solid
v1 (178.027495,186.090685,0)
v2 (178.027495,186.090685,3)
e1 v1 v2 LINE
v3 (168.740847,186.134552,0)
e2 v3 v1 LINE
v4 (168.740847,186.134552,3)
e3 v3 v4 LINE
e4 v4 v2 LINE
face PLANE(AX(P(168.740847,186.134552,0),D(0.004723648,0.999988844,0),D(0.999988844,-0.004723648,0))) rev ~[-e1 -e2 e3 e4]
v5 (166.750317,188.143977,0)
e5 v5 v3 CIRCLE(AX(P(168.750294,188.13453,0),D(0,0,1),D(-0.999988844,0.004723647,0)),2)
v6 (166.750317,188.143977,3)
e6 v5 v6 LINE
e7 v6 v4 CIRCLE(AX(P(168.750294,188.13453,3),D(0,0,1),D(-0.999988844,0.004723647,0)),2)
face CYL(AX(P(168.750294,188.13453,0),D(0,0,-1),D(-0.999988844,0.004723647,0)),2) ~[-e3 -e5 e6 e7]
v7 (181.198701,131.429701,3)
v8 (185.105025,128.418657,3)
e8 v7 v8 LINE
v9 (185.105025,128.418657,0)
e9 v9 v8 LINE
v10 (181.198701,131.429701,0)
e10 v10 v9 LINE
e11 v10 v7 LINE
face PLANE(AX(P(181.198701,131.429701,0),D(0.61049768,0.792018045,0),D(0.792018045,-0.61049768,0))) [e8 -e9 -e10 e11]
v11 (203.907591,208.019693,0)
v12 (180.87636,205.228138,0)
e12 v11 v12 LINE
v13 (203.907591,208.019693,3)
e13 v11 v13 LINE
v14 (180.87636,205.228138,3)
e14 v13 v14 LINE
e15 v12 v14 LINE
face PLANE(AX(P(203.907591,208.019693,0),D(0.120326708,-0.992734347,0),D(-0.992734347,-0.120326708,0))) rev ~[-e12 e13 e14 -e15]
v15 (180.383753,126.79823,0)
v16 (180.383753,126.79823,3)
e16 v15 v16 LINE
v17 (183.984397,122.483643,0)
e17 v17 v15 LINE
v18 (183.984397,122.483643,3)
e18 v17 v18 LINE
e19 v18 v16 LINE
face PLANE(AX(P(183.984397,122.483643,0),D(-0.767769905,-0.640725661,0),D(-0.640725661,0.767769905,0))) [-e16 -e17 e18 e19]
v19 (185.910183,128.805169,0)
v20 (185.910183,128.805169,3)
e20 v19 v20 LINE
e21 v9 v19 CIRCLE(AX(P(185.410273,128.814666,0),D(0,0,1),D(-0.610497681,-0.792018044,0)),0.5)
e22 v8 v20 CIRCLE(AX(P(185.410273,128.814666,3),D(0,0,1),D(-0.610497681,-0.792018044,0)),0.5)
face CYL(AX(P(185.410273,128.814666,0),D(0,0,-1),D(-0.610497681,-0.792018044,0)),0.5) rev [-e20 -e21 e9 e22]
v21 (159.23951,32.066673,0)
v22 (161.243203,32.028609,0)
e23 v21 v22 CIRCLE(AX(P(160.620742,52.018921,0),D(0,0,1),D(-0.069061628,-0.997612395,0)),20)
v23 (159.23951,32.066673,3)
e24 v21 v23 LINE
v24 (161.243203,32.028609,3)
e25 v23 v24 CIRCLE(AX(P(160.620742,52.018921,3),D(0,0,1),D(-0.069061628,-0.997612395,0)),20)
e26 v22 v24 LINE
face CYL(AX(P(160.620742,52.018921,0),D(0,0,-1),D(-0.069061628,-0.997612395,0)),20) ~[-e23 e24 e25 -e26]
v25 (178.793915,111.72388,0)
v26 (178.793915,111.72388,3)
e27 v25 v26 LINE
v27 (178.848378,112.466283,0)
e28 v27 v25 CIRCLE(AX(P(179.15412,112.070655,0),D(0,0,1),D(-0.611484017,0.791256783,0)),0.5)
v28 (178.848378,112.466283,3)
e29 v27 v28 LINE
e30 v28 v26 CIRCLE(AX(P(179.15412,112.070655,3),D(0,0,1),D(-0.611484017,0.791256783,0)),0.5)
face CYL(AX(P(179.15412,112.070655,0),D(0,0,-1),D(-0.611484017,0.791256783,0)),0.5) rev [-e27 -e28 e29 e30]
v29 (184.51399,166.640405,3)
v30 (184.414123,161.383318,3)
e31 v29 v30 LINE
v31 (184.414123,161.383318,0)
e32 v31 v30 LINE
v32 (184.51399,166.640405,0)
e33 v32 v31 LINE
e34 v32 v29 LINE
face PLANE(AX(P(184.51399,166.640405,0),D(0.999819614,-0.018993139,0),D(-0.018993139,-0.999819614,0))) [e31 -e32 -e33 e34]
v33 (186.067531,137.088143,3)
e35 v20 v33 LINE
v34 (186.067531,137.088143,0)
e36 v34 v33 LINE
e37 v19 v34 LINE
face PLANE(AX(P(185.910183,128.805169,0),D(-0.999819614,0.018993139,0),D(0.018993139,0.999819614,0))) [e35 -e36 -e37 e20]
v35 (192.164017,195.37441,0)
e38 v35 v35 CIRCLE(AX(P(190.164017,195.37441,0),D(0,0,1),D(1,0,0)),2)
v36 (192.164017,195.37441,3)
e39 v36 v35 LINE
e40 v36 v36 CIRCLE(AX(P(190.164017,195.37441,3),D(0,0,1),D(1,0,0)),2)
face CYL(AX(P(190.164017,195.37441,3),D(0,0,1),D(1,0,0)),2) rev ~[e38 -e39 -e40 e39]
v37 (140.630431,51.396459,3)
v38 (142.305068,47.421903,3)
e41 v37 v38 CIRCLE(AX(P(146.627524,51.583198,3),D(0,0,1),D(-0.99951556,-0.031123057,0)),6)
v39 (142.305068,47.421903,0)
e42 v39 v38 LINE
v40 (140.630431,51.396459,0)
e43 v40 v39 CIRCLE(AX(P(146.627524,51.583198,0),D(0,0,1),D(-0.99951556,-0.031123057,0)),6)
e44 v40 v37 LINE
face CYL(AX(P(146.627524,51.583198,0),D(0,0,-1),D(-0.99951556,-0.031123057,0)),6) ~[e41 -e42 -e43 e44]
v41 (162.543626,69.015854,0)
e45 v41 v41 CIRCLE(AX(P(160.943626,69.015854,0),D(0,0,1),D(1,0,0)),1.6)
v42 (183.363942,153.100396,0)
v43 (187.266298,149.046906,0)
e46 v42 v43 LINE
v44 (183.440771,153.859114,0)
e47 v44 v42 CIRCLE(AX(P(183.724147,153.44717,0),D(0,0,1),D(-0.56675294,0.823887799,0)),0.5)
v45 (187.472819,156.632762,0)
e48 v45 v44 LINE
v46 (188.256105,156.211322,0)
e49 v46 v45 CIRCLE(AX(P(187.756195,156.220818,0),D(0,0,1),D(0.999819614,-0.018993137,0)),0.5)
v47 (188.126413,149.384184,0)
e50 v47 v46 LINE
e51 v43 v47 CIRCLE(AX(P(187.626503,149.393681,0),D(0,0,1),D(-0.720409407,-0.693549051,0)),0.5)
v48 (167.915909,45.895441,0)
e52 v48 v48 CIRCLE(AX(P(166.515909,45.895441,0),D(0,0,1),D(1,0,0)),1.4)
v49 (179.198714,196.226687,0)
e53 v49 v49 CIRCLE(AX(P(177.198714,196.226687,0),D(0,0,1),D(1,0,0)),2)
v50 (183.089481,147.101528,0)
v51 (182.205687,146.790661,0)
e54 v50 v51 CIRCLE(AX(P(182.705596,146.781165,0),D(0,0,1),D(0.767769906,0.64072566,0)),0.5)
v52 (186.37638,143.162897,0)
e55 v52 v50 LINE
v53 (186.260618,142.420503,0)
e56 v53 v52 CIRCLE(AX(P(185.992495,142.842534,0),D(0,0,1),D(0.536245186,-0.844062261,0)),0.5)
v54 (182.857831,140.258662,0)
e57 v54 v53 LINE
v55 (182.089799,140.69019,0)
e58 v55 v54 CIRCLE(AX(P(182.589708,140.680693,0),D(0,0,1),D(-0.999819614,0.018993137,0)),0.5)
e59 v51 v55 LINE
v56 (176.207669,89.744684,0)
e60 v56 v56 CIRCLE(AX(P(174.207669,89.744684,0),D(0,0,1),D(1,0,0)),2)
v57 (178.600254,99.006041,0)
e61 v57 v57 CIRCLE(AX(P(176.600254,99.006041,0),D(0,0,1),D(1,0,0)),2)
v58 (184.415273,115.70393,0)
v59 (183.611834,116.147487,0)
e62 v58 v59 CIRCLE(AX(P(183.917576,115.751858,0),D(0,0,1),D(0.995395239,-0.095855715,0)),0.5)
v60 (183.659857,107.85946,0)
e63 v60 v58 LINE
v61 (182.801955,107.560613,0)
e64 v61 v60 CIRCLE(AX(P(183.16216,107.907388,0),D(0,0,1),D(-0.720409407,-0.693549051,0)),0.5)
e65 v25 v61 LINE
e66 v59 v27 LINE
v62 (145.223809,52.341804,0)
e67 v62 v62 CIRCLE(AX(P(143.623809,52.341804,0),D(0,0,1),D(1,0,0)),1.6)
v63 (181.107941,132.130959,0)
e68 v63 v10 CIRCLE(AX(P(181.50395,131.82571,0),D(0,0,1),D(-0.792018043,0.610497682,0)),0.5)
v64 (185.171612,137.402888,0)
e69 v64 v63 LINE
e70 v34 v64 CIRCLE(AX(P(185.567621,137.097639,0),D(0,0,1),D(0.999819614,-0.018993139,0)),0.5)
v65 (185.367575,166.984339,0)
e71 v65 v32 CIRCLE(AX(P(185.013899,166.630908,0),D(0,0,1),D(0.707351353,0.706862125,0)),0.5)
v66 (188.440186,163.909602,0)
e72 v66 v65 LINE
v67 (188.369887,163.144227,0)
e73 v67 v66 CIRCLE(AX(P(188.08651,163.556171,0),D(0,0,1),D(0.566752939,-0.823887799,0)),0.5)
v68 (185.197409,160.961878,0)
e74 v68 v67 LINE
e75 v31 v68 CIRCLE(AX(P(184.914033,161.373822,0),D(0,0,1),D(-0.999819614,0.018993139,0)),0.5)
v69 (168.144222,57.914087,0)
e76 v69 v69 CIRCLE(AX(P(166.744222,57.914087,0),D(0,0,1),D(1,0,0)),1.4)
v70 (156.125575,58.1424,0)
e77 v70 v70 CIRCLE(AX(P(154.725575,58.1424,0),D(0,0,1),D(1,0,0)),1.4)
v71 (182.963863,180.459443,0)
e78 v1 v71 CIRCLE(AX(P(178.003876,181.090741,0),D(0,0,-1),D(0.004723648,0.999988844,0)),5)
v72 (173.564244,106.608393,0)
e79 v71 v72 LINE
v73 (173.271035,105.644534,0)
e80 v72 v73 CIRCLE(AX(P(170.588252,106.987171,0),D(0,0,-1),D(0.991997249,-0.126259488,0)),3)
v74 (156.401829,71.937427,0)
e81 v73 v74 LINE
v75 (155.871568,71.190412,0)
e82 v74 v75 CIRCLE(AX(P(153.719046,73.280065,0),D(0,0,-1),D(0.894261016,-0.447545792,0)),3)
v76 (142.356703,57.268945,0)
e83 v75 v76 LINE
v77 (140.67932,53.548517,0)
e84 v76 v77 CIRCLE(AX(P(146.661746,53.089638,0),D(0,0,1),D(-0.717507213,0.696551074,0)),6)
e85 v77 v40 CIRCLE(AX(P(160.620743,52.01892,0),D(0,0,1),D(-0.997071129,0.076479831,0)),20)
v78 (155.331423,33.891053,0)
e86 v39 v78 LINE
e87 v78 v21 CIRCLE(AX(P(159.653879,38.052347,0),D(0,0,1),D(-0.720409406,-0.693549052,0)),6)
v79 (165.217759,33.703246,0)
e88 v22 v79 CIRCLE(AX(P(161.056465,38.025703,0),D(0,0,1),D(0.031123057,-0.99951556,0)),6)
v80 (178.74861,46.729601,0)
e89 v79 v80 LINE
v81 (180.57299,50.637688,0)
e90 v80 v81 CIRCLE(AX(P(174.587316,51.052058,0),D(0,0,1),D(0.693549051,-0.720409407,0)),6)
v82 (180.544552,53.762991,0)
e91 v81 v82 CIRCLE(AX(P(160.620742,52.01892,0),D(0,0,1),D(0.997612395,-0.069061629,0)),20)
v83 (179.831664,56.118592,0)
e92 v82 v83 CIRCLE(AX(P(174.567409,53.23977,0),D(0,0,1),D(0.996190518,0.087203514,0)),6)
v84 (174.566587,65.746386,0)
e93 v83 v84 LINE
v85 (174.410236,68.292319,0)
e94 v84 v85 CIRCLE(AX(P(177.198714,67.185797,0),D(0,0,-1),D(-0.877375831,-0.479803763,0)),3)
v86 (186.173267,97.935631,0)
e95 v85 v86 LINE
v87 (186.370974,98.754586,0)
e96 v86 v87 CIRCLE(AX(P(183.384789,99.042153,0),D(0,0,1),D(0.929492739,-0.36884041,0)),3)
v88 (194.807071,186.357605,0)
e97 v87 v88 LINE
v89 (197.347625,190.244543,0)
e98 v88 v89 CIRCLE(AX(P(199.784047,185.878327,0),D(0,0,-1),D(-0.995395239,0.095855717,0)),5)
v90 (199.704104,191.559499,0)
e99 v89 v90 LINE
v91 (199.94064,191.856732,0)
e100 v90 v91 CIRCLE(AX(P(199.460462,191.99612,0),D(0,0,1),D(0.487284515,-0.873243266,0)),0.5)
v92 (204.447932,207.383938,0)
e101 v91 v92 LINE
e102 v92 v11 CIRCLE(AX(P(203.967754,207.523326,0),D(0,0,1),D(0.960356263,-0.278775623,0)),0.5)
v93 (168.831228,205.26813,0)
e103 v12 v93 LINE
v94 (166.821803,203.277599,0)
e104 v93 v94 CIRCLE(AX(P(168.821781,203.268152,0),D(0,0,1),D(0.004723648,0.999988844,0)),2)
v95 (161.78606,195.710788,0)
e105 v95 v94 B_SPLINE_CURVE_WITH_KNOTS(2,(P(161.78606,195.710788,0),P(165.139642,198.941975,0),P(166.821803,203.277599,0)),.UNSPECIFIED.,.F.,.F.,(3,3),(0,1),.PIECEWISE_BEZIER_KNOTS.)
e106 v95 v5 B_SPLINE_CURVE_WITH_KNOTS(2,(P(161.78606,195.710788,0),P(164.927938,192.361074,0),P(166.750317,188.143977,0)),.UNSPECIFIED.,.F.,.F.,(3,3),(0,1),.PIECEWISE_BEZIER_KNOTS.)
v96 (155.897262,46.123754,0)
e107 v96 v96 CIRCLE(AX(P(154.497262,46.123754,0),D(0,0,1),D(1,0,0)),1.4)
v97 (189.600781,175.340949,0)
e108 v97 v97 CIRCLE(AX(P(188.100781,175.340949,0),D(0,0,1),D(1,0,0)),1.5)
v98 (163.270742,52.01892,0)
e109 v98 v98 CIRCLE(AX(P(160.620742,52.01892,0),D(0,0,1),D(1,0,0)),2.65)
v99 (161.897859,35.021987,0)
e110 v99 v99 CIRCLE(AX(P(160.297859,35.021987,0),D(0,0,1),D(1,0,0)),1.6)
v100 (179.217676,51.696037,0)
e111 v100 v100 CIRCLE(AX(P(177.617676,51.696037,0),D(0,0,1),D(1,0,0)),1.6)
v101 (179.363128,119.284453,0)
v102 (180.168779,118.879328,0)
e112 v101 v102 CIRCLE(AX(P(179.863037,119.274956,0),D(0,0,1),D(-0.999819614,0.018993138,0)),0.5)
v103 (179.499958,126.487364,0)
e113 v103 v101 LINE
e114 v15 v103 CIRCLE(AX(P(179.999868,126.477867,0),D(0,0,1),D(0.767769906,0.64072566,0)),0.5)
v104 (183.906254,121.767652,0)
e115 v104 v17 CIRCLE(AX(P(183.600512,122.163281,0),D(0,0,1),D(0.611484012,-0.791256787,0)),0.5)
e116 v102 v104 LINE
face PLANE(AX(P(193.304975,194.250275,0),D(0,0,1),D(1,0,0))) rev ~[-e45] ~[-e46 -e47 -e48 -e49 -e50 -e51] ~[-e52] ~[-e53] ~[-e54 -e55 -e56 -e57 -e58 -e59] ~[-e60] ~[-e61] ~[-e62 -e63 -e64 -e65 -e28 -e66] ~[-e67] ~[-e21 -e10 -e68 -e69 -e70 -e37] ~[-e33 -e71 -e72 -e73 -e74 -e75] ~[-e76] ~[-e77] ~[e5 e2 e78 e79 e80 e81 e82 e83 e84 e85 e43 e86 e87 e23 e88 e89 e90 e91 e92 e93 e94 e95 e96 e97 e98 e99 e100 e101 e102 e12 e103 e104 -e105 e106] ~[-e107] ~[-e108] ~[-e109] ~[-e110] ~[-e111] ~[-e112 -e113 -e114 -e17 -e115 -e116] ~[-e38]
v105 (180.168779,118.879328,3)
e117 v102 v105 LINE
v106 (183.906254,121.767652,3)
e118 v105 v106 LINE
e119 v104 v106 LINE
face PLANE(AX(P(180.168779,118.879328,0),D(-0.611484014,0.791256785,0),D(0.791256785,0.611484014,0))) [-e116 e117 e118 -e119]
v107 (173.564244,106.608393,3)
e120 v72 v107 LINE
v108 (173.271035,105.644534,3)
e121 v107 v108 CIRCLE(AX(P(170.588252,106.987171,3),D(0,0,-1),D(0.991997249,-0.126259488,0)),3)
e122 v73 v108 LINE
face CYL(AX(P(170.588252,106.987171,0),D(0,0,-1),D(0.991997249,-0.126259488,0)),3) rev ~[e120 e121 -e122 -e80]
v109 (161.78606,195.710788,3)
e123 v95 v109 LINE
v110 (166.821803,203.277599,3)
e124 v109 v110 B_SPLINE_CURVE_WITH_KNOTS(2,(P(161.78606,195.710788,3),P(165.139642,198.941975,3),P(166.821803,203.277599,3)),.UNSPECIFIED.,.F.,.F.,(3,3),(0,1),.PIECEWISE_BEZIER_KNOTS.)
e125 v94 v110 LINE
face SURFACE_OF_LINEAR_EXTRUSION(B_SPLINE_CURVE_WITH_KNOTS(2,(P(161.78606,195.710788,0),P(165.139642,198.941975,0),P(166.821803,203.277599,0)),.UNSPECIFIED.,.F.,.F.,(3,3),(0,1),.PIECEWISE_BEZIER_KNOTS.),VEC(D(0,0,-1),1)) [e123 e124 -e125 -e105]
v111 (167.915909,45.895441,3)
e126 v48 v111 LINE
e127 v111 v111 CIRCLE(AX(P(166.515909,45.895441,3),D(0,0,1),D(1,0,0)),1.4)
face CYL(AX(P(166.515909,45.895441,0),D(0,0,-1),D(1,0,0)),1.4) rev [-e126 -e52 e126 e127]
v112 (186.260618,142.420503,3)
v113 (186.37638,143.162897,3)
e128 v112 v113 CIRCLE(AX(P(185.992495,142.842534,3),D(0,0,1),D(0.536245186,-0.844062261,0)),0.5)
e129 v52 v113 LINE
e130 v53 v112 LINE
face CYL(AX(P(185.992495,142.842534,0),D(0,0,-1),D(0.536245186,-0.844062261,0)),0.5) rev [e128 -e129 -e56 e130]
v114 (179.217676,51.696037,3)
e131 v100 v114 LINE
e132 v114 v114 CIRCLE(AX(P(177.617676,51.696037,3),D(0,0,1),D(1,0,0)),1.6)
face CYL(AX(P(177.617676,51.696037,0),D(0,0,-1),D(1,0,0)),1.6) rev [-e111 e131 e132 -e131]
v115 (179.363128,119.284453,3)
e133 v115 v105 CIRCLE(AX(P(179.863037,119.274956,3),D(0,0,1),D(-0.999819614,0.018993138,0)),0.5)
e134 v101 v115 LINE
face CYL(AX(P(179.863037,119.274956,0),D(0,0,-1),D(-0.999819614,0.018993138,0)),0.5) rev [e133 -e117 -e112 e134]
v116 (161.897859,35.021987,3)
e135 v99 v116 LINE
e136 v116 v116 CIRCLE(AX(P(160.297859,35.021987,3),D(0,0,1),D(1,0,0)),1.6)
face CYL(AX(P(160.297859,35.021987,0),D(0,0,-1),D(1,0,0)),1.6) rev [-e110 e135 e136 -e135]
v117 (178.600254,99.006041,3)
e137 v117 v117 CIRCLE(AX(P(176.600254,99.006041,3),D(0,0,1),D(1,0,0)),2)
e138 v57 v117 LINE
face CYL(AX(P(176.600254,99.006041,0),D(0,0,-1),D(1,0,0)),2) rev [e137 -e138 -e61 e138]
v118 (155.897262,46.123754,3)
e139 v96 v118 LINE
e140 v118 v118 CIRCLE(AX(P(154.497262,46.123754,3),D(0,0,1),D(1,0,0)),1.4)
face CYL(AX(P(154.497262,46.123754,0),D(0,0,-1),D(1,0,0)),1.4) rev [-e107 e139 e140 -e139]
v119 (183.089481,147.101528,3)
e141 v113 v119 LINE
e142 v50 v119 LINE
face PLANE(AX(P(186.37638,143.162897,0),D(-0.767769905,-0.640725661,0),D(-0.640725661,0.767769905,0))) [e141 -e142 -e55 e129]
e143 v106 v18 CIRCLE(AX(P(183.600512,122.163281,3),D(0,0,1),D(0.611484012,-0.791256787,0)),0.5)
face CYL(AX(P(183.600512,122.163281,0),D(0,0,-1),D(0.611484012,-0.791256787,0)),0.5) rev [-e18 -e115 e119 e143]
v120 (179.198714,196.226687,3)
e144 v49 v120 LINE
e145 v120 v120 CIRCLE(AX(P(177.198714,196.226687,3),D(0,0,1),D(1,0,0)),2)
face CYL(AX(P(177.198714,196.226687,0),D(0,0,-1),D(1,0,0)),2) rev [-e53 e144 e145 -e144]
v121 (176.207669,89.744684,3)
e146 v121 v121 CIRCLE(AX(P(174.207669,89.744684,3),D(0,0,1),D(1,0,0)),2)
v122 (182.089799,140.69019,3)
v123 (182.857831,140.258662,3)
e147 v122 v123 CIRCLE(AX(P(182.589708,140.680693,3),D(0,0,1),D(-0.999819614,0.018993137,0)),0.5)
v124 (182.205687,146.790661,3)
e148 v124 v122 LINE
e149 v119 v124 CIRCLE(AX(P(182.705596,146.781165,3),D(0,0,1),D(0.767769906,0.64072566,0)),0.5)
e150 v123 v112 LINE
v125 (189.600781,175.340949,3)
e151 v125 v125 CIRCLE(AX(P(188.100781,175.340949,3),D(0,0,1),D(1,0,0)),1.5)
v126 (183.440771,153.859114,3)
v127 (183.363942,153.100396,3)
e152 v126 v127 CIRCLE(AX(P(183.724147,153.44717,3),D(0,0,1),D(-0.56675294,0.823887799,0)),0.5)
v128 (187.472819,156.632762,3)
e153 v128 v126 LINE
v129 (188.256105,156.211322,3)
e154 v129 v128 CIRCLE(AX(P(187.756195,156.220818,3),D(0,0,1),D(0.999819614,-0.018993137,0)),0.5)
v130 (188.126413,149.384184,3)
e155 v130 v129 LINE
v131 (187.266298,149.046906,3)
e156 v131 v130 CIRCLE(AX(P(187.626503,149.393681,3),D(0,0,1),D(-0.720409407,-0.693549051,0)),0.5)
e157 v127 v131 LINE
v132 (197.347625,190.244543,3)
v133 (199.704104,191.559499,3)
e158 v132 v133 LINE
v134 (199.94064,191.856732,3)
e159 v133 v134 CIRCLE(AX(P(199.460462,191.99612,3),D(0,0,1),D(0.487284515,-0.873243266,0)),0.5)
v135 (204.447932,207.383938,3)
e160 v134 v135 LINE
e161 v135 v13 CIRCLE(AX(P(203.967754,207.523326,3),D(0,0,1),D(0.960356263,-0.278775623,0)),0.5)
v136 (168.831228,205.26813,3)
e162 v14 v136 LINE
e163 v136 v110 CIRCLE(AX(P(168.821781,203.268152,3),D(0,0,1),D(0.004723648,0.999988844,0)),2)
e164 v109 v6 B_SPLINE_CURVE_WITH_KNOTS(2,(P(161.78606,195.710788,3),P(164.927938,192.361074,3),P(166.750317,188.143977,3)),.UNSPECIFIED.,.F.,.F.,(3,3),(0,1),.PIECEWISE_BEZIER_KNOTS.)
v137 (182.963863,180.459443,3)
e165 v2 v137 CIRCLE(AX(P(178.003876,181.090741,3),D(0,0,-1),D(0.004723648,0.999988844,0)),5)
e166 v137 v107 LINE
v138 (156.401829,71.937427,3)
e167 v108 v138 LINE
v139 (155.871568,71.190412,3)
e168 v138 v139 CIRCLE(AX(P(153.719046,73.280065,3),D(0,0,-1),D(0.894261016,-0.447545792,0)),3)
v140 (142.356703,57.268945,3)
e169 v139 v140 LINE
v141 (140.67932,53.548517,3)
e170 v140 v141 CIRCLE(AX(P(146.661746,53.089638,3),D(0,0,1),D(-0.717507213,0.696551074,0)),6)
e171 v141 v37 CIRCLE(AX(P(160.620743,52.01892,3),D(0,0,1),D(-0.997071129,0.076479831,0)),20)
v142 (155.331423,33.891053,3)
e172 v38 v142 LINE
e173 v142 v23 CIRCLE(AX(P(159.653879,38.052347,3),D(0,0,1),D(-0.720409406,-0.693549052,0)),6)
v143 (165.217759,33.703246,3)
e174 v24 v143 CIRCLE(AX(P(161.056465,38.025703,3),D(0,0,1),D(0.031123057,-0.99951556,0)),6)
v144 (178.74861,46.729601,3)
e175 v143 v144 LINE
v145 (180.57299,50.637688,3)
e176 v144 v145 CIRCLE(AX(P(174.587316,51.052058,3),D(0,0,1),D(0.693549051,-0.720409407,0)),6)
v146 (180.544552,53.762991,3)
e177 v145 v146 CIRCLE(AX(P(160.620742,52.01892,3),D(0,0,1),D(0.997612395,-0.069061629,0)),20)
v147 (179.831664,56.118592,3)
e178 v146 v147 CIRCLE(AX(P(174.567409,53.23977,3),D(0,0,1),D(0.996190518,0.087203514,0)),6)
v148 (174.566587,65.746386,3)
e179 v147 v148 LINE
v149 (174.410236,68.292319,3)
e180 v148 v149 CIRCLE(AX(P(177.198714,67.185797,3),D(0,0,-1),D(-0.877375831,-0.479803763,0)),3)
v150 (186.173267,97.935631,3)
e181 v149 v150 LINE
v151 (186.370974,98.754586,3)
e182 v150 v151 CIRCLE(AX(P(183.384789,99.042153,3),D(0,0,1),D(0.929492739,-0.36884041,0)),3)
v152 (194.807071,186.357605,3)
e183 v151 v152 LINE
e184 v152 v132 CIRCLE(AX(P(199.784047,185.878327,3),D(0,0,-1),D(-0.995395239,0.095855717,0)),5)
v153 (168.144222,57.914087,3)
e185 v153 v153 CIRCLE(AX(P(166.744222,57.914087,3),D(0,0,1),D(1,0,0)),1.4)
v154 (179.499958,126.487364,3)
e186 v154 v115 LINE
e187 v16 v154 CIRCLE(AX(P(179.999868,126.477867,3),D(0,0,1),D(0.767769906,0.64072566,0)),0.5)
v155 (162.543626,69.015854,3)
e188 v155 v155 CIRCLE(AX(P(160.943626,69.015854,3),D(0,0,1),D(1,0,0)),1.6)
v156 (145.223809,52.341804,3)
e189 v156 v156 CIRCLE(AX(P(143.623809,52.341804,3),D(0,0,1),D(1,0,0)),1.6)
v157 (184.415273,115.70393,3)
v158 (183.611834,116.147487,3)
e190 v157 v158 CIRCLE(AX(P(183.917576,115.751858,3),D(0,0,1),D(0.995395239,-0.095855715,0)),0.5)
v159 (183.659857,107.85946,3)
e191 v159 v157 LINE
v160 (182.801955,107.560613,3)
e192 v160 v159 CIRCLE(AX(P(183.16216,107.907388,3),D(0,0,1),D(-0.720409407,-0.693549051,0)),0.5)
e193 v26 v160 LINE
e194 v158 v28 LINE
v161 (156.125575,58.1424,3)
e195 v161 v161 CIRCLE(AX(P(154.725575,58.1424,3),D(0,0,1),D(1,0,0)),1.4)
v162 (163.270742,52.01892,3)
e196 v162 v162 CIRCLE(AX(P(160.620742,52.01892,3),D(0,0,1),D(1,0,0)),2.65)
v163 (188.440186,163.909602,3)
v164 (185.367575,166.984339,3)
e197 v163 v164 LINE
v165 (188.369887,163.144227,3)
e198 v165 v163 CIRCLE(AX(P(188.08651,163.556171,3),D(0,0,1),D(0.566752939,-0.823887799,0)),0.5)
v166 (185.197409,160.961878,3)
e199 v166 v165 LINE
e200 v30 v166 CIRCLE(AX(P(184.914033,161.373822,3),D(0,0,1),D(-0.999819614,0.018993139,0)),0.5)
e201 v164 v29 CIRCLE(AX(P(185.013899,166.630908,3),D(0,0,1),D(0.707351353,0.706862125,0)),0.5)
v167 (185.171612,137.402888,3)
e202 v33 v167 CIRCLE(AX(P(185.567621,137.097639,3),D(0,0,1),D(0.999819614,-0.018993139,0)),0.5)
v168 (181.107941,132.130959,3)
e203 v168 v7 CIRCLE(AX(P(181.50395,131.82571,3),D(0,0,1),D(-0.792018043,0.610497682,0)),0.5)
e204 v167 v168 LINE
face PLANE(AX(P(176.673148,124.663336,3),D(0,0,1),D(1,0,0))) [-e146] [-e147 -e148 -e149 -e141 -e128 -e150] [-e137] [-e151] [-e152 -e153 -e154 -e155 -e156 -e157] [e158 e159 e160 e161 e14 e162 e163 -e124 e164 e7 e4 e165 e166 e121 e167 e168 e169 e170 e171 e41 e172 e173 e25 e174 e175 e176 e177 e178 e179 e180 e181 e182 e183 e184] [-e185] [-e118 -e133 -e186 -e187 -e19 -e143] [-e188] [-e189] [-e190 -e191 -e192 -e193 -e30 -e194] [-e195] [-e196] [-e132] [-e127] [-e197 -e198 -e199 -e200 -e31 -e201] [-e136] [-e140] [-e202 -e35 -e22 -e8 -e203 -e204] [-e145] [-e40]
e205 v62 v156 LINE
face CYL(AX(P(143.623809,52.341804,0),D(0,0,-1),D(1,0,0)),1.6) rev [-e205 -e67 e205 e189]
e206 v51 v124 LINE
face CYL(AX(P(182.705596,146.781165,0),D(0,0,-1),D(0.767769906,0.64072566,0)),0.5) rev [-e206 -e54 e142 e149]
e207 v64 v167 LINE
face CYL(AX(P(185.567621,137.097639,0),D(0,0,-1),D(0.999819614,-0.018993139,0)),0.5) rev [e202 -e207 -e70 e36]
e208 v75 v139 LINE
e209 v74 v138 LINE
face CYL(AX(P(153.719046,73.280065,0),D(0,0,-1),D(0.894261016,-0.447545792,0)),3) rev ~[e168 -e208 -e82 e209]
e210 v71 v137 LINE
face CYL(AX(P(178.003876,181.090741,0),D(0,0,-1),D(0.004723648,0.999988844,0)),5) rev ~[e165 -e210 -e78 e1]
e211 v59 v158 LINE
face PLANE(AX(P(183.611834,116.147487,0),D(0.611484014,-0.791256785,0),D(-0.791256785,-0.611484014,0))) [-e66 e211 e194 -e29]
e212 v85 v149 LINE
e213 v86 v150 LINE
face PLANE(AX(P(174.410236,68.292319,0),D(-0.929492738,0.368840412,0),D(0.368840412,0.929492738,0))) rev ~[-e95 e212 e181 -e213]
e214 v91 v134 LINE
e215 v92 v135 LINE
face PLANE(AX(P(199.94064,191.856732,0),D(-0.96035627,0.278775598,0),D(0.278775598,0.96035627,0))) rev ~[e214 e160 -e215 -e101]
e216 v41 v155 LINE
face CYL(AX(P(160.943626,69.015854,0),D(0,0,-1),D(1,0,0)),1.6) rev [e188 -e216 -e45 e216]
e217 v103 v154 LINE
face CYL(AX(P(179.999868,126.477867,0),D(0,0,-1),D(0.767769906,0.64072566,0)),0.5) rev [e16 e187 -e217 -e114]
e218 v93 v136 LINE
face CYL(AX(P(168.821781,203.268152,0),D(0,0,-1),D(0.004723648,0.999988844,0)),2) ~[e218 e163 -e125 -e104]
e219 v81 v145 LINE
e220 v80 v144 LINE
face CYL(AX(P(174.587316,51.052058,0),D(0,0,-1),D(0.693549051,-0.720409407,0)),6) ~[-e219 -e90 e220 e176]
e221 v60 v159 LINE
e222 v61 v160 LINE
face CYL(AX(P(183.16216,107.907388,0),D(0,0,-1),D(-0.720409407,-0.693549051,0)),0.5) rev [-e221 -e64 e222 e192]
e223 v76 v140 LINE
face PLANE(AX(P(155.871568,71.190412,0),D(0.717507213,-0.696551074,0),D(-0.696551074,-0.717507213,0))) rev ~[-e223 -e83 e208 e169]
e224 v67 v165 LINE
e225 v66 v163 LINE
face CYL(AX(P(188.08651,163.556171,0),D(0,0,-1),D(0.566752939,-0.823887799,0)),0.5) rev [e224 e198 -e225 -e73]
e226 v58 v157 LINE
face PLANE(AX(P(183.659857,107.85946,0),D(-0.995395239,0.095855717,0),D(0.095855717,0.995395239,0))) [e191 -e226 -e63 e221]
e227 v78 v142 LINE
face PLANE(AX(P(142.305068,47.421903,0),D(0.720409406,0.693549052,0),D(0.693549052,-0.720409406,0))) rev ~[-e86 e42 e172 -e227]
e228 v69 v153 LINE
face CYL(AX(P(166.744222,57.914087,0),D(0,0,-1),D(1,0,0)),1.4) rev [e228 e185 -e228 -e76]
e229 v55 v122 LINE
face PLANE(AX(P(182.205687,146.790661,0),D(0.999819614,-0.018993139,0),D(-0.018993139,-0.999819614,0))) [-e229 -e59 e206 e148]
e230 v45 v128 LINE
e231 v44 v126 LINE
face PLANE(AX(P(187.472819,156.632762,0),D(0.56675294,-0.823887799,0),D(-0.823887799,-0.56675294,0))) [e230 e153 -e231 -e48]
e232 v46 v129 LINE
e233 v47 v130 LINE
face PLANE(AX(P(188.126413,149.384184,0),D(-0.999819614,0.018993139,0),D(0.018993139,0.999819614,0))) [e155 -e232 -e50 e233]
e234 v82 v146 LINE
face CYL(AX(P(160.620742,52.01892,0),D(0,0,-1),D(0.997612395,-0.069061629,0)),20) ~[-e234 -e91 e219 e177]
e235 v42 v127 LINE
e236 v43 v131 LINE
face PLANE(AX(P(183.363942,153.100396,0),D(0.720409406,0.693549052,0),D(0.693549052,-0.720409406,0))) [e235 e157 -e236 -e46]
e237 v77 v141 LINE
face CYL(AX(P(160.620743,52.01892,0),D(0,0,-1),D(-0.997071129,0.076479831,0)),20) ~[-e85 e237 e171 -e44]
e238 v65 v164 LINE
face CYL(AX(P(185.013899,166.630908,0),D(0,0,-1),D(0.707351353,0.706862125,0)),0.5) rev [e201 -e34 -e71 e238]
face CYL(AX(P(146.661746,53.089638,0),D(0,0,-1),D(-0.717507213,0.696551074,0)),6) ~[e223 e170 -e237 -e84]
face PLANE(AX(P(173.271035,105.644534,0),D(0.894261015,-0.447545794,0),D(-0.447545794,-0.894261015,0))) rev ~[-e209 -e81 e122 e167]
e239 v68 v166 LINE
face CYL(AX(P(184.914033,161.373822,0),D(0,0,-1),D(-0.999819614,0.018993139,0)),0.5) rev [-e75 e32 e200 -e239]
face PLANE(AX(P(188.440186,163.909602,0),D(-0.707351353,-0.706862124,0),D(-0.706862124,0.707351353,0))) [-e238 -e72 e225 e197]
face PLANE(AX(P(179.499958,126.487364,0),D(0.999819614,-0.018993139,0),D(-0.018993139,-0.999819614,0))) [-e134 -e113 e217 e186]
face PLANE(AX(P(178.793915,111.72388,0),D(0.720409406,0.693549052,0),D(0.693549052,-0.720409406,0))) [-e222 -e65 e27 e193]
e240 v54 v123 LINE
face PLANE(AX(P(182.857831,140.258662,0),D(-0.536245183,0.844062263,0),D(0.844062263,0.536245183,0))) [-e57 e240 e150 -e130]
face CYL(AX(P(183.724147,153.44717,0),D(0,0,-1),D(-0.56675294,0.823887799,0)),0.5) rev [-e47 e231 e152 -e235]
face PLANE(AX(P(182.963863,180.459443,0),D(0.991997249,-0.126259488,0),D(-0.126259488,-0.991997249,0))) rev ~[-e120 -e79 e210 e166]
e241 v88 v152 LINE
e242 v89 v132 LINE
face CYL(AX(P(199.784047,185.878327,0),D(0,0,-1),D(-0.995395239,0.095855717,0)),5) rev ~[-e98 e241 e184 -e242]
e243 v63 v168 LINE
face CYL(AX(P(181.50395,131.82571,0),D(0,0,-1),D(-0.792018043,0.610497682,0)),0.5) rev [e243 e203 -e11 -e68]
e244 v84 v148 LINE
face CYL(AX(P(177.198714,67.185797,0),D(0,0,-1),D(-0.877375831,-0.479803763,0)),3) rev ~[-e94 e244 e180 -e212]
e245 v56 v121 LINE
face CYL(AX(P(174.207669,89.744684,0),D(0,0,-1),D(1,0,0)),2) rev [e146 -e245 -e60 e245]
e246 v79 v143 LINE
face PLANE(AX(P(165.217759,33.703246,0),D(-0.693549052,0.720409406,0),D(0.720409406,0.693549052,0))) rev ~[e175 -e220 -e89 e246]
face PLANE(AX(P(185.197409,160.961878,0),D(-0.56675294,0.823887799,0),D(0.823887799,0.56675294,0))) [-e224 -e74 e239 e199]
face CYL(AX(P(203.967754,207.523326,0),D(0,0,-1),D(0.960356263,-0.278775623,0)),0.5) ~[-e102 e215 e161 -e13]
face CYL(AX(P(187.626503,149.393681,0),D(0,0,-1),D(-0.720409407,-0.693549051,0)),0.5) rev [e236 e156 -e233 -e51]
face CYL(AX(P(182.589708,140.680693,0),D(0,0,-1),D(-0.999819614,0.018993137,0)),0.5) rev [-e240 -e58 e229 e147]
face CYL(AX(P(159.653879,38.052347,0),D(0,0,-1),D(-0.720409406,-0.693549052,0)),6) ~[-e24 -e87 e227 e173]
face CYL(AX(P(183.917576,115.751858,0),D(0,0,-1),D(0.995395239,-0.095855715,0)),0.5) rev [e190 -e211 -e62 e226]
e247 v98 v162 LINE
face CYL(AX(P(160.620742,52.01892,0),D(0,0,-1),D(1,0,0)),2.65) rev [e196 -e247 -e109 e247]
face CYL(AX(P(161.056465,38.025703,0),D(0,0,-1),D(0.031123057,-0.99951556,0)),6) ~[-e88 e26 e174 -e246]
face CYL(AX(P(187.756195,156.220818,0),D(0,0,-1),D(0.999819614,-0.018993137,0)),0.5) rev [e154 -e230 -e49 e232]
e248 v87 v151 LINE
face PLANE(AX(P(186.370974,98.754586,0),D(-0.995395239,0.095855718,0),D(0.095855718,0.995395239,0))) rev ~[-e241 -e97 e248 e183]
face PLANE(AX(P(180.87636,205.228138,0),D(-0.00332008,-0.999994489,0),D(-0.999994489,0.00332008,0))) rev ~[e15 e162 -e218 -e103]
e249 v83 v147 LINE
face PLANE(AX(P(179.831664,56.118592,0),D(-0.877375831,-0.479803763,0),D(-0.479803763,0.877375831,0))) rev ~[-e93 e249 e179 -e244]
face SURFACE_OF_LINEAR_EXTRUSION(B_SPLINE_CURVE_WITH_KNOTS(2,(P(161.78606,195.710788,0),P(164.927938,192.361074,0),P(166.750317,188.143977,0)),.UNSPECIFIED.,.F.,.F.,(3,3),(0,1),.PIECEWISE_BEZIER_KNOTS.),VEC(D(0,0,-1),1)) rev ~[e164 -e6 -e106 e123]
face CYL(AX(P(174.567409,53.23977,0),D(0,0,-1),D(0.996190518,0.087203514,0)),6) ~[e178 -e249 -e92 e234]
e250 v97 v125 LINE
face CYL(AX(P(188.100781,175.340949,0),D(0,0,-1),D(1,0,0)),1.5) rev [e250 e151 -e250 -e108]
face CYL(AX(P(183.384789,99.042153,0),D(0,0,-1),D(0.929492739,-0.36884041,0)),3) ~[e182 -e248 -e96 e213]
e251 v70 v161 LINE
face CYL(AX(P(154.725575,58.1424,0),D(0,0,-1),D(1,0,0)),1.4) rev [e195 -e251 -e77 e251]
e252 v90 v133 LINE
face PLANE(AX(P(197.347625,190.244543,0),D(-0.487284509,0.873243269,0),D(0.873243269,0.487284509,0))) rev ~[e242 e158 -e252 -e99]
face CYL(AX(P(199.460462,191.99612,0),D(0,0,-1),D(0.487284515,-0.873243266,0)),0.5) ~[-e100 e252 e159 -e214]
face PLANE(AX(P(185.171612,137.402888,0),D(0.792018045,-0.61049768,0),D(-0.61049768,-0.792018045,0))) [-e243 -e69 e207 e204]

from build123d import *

# Parameters (mm, degrees)
SKETCH_1_R          = 1.6
SKETCH_1_R_2        = 2
SKETCH_1_R_3        = 1.5
SKETCH_1_R_4        = 1.4
SKETCH_1_R_5        = 2.65
EXTRUDE_1_DEPTH     = 3
EXTRUDE_START       = -3
SKETCH_2_R          = 2
EXTRUDE_2_DEPTH     = 3
SKETCH_3_R          = 2
CUT_EXTRUDE_1_DEPTH = 292.701502722


with BuildPart() as part:
    # 草图1 → 凸台-拉伸1 (new body)
    with BuildSketch(Plane.XY):
        with BuildLine():
            Line((180.876359785, 205.228138488), (168.831228405, 205.268129507))
            ThreePointArc((168.831228405, 205.268129507), (167.414263571, 204.689029851), (166.821803423, 203.277599114))
            add(Edge.make_bspline(
                [(161.786060078, 195.71078825), (165.139642387, 198.941974737), (166.821803423, 203.277599114)],
                knots=[0, 0, 0, 1, 1, 1], degree=2))
            add(Edge.make_bspline(
                [(161.786060078, 195.71078825), (164.92793776, 192.361073548), (166.750316725, 188.143977385)],
                knots=[0, 0, 0, 1, 1, 1], degree=2))
            ThreePointArc((166.750316725, 188.143977385), (167.329416381, 186.727012552), (168.740847117, 186.134552403))
            Line((168.740847117, 186.134552403), (178.027494719, 186.090685063))
            ThreePointArc((178.027494719, 186.090685063), (181.763769971, 184.38667788), (182.963862725, 180.459443405))
            Line((182.963862725, 180.459443405), (173.564244058, 106.60839258))
            ThreePointArc((173.564244058, 106.60839258), (173.458389771, 106.114066832), (173.271035356, 105.644533662))
            Line((173.271035356, 105.644533662), (156.40182897, 71.937427408))
            ThreePointArc((156.40182897, 71.937427408), (156.165380125, 71.54355997), (155.871567565, 71.190411567))
            Line((155.871567565, 71.190411567), (142.35670304, 57.268944585))
            ThreePointArc((142.35670304, 57.268944585), (141.191974376, 55.555727126), (140.679319548, 53.548517136))
            ThreePointArc((140.679319548, 53.548517136), (140.625900814, 52.473146463), (140.63043091, 51.396459358))
            ThreePointArc((140.63043091, 51.396459358), (141.098279223, 49.25350905), (142.305067834, 47.421903384))
            Line((142.305067834, 47.421903384), (155.331422881, 33.891052634))
            ThreePointArc((155.331422881, 33.891052634), (157.115873944, 32.615571364), (159.239509549, 32.066672572))
            ThreePointArc((159.239509549, 32.066672572), (160.240879339, 32.022528199), (161.243203239, 32.028609273))
            ThreePointArc((161.243203239, 32.028609273), (163.386153547, 32.496457586), (165.217759213, 33.703246197))
            Line((165.217759213, 33.703246197), (178.748609963, 46.729601244))
            ThreePointArc((178.748609963, 46.729601244), (180.024091234, 48.514052307), (180.572990025, 50.637687912))
            ThreePointArc((180.572990025, 50.637687912), (180.619914226, 52.200895683), (180.544552467, 53.762990758))
            ThreePointArc((180.544552467, 53.762990758), (180.310185029, 54.977736199), (179.831664348, 56.118592254))
            Line((179.831664348, 56.118592254), (174.566586824, 65.746386199))
            ThreePointArc((174.566586824, 65.746386199), (174.20435551, 67.001908028), (174.410236103, 68.292318726))
            Line((174.410236103, 68.292318726), (186.173266888, 97.935631449))
            ThreePointArc((186.173266888, 97.935631449), (186.3010118, 98.338133742), (186.37097439, 98.754585534))
            Line((186.37097439, 98.754585534), (194.807070925, 186.357605284))
            ThreePointArc((194.807070925, 186.357605284), (195.598752445, 188.613890348), (197.347624572, 190.244543041))
            Line((197.347624572, 190.244543041), (199.704104393, 191.559498626))
            ThreePointArc((199.704104393, 191.559498626), (199.85169861, 191.684777969), (199.940640273, 191.856732461))
            Line((199.940640273, 191.856732461), (204.447932197, 207.383938176))
            ThreePointArc((204.447932197, 207.383938176), (204.348738584, 207.847132715), (203.907590711, 208.019693161))
            Line((203.907590711, 208.019693161), (180.876359785, 205.228138488))
        make_face()
        with Locations((160.943625523, 69.015853918)):
            Circle(SKETCH_1_R, mode=Mode.SUBTRACT)
        with Locations((177.617675606, 51.696037122)):
            Circle(SKETCH_1_R, mode=Mode.SUBTRACT)
        with Locations((160.29785881, 35.02198704)):
            Circle(SKETCH_1_R, mode=Mode.SUBTRACT)
        with Locations((176.600254281, 99.006041366)):
            Circle(SKETCH_1_R_2, mode=Mode.SUBTRACT)
        with Locations((174.2076694, 89.744683982)):
            Circle(SKETCH_1_R_2, mode=Mode.SUBTRACT)
        with Locations((188.100780779, 175.340948835)):
            Circle(SKETCH_1_R_3, mode=Mode.SUBTRACT)
        with Locations((193.30497456, 194.25027454)):
            Circle(SKETCH_1_R_2, mode=Mode.SUBTRACT)
        with Locations((177.198714362, 196.226687268)):
            Circle(SKETCH_1_R_2, mode=Mode.SUBTRACT)
        with Locations((143.623808727, 52.341803836)):
            Circle(SKETCH_1_R, mode=Mode.SUBTRACT)
        with Locations((166.515909108, 45.895440526)):
            Circle(SKETCH_1_R_4, mode=Mode.SUBTRACT)
        with Locations((166.744222119, 57.91408742)):
            Circle(SKETCH_1_R_4, mode=Mode.SUBTRACT)
        with Locations((154.497262214, 46.123753537)):
            Circle(SKETCH_1_R_4, mode=Mode.SUBTRACT)
        with Locations((154.725575225, 58.142400432)):
            Circle(SKETCH_1_R_4, mode=Mode.SUBTRACT)
        with Locations((160.620742166, 52.018920479)):
            Circle(SKETCH_1_R_5, mode=Mode.SUBTRACT)
        with BuildLine():
            Line((188.440185855, 163.909601849), (185.367574986, 166.984339314))
            ThreePointArc((185.367574986, 166.984339314), (184.827033477, 167.094676686), (184.513989502, 166.640404821))
            Line((184.513989502, 166.640404821), (184.414122911, 161.383318097))
            ThreePointArc((184.414122911, 161.383318097), (184.67712622, 160.933508785), (185.197409188, 160.961877628))
            Line((185.197409188, 160.961877628), (188.369886648, 163.144226888))
            ThreePointArc((188.369886648, 163.144226888), (188.584414353, 163.510438603), (188.440185855, 163.909601849))
        make_face(mode=Mode.SUBTRACT)
        with BuildLine():
            Line((187.472818663, 156.632762387), (183.440770681, 153.85911402))
            ThreePointArc((183.440770681, 153.85911402), (183.226691028, 153.497542793), (183.363942447, 153.100395594))
            Line((183.363942447, 153.100395594), (187.266298258, 149.046906048))
            ThreePointArc((187.266298258, 149.046906048), (187.809036476, 148.928189955), (188.126412768, 149.384184004))
            Line((188.126412768, 149.384184004), (188.25610494, 156.211321918))
            ThreePointArc((188.25610494, 156.211321918), (187.99310163, 156.66113123), (187.472818663, 156.632762387))
        make_face(mode=Mode.SUBTRACT)
        with BuildLine():
            Line((182.20568655, 146.790661355), (182.089798545, 140.690189901))
            ThreePointArc((182.089798545, 140.690189901), (182.344789249, 140.244786653), (182.857830944, 140.2586622))
            Line((182.857830944, 140.2586622), (186.260617668, 142.420502707))
            ThreePointArc((186.260617668, 142.420502707), (186.486525093, 142.765499158), (186.376380029, 143.162896669))
            Line((186.376380029, 143.162896669), (183.08948131, 147.101527616))
            ThreePointArc((183.08948131, 147.101527616), (182.539690059, 147.252837448), (182.20568655, 146.790661355))
        make_face(mode=Mode.SUBTRACT)
        with BuildLine():
            Line((185.171612374, 137.402888306), (181.107941286, 132.130958638))
            ThreePointArc((181.107941286, 132.130958638), (181.008086118, 131.761532658), (181.198701468, 131.429700776))
            Line((181.198701468, 131.429700776), (185.105024507, 128.418656815))
            ThreePointArc((185.105024507, 128.418656815), (185.626655398, 128.363912237), (185.910183153, 128.805169268))
            Line((185.910183153, 128.805169268), (186.067531203, 137.088142897))
            ThreePointArc((186.067531203, 137.088142897), (185.733347108, 137.569375609), (185.171612374, 137.402888306))
        make_face(mode=Mode.SUBTRACT)
        with BuildLine():
            Line((183.984397253, 122.483643411), (180.383752933, 126.798230005))
            ThreePointArc((180.383752933, 126.798230005), (179.833961683, 126.949539837), (179.499958174, 126.487363744))
            Line((179.499958174, 126.487363744), (179.363127608, 119.284452918))
            ThreePointArc((179.363127608, 119.284452918), (179.638411409, 118.828253811), (180.168779422, 118.879327956))
            Line((180.168779422, 118.879327956), (183.906254307, 121.767652188))
            ThreePointArc((183.906254307, 121.767652188), (184.097560783, 122.109032943), (183.984397253, 122.483643411))
        make_face(mode=Mode.SUBTRACT)
        with BuildLine():
            Line((183.611833626, 116.147486542), (178.84837762, 112.466283102))
            ThreePointArc((178.84837762, 112.466283102), (178.655459645, 112.107236418), (178.793914924, 111.723880183))
            Line((178.793914924, 111.723880183), (182.801955086, 107.560613253))
            ThreePointArc((182.801955086, 107.560613253), (183.326638992, 107.435215573), (183.659857408, 107.85945992))
            Line((183.659857408, 107.85945992), (184.415273253, 115.703930291))
            ThreePointArc((184.415273253, 115.703930291), (184.159230917, 116.189582633), (183.611833626, 116.147486542))
        make_face(mode=Mode.SUBTRACT)
    extrude(amount=EXTRUDE_1_DEPTH)

    # 草图2 → 凸台-拉伸2 (add)
    with BuildSketch(Plane.XY.offset(3).offset(EXTRUDE_START)):
        with Locations((193.30497456, 194.25027454)):
            Circle(SKETCH_2_R)
    extrude(amount=EXTRUDE_2_DEPTH)

    # 草图3 → 切除-拉伸1 (cut, through all)
    with BuildSketch(Plane.XY.offset(3)):
        with Locations((190.164017385, 195.374410179)):
            Circle(SKETCH_3_R)
    extrude(amount=-CUT_EXTRUDE_1_DEPTH, mode=Mode.SUBTRACT)


solid = part.part
